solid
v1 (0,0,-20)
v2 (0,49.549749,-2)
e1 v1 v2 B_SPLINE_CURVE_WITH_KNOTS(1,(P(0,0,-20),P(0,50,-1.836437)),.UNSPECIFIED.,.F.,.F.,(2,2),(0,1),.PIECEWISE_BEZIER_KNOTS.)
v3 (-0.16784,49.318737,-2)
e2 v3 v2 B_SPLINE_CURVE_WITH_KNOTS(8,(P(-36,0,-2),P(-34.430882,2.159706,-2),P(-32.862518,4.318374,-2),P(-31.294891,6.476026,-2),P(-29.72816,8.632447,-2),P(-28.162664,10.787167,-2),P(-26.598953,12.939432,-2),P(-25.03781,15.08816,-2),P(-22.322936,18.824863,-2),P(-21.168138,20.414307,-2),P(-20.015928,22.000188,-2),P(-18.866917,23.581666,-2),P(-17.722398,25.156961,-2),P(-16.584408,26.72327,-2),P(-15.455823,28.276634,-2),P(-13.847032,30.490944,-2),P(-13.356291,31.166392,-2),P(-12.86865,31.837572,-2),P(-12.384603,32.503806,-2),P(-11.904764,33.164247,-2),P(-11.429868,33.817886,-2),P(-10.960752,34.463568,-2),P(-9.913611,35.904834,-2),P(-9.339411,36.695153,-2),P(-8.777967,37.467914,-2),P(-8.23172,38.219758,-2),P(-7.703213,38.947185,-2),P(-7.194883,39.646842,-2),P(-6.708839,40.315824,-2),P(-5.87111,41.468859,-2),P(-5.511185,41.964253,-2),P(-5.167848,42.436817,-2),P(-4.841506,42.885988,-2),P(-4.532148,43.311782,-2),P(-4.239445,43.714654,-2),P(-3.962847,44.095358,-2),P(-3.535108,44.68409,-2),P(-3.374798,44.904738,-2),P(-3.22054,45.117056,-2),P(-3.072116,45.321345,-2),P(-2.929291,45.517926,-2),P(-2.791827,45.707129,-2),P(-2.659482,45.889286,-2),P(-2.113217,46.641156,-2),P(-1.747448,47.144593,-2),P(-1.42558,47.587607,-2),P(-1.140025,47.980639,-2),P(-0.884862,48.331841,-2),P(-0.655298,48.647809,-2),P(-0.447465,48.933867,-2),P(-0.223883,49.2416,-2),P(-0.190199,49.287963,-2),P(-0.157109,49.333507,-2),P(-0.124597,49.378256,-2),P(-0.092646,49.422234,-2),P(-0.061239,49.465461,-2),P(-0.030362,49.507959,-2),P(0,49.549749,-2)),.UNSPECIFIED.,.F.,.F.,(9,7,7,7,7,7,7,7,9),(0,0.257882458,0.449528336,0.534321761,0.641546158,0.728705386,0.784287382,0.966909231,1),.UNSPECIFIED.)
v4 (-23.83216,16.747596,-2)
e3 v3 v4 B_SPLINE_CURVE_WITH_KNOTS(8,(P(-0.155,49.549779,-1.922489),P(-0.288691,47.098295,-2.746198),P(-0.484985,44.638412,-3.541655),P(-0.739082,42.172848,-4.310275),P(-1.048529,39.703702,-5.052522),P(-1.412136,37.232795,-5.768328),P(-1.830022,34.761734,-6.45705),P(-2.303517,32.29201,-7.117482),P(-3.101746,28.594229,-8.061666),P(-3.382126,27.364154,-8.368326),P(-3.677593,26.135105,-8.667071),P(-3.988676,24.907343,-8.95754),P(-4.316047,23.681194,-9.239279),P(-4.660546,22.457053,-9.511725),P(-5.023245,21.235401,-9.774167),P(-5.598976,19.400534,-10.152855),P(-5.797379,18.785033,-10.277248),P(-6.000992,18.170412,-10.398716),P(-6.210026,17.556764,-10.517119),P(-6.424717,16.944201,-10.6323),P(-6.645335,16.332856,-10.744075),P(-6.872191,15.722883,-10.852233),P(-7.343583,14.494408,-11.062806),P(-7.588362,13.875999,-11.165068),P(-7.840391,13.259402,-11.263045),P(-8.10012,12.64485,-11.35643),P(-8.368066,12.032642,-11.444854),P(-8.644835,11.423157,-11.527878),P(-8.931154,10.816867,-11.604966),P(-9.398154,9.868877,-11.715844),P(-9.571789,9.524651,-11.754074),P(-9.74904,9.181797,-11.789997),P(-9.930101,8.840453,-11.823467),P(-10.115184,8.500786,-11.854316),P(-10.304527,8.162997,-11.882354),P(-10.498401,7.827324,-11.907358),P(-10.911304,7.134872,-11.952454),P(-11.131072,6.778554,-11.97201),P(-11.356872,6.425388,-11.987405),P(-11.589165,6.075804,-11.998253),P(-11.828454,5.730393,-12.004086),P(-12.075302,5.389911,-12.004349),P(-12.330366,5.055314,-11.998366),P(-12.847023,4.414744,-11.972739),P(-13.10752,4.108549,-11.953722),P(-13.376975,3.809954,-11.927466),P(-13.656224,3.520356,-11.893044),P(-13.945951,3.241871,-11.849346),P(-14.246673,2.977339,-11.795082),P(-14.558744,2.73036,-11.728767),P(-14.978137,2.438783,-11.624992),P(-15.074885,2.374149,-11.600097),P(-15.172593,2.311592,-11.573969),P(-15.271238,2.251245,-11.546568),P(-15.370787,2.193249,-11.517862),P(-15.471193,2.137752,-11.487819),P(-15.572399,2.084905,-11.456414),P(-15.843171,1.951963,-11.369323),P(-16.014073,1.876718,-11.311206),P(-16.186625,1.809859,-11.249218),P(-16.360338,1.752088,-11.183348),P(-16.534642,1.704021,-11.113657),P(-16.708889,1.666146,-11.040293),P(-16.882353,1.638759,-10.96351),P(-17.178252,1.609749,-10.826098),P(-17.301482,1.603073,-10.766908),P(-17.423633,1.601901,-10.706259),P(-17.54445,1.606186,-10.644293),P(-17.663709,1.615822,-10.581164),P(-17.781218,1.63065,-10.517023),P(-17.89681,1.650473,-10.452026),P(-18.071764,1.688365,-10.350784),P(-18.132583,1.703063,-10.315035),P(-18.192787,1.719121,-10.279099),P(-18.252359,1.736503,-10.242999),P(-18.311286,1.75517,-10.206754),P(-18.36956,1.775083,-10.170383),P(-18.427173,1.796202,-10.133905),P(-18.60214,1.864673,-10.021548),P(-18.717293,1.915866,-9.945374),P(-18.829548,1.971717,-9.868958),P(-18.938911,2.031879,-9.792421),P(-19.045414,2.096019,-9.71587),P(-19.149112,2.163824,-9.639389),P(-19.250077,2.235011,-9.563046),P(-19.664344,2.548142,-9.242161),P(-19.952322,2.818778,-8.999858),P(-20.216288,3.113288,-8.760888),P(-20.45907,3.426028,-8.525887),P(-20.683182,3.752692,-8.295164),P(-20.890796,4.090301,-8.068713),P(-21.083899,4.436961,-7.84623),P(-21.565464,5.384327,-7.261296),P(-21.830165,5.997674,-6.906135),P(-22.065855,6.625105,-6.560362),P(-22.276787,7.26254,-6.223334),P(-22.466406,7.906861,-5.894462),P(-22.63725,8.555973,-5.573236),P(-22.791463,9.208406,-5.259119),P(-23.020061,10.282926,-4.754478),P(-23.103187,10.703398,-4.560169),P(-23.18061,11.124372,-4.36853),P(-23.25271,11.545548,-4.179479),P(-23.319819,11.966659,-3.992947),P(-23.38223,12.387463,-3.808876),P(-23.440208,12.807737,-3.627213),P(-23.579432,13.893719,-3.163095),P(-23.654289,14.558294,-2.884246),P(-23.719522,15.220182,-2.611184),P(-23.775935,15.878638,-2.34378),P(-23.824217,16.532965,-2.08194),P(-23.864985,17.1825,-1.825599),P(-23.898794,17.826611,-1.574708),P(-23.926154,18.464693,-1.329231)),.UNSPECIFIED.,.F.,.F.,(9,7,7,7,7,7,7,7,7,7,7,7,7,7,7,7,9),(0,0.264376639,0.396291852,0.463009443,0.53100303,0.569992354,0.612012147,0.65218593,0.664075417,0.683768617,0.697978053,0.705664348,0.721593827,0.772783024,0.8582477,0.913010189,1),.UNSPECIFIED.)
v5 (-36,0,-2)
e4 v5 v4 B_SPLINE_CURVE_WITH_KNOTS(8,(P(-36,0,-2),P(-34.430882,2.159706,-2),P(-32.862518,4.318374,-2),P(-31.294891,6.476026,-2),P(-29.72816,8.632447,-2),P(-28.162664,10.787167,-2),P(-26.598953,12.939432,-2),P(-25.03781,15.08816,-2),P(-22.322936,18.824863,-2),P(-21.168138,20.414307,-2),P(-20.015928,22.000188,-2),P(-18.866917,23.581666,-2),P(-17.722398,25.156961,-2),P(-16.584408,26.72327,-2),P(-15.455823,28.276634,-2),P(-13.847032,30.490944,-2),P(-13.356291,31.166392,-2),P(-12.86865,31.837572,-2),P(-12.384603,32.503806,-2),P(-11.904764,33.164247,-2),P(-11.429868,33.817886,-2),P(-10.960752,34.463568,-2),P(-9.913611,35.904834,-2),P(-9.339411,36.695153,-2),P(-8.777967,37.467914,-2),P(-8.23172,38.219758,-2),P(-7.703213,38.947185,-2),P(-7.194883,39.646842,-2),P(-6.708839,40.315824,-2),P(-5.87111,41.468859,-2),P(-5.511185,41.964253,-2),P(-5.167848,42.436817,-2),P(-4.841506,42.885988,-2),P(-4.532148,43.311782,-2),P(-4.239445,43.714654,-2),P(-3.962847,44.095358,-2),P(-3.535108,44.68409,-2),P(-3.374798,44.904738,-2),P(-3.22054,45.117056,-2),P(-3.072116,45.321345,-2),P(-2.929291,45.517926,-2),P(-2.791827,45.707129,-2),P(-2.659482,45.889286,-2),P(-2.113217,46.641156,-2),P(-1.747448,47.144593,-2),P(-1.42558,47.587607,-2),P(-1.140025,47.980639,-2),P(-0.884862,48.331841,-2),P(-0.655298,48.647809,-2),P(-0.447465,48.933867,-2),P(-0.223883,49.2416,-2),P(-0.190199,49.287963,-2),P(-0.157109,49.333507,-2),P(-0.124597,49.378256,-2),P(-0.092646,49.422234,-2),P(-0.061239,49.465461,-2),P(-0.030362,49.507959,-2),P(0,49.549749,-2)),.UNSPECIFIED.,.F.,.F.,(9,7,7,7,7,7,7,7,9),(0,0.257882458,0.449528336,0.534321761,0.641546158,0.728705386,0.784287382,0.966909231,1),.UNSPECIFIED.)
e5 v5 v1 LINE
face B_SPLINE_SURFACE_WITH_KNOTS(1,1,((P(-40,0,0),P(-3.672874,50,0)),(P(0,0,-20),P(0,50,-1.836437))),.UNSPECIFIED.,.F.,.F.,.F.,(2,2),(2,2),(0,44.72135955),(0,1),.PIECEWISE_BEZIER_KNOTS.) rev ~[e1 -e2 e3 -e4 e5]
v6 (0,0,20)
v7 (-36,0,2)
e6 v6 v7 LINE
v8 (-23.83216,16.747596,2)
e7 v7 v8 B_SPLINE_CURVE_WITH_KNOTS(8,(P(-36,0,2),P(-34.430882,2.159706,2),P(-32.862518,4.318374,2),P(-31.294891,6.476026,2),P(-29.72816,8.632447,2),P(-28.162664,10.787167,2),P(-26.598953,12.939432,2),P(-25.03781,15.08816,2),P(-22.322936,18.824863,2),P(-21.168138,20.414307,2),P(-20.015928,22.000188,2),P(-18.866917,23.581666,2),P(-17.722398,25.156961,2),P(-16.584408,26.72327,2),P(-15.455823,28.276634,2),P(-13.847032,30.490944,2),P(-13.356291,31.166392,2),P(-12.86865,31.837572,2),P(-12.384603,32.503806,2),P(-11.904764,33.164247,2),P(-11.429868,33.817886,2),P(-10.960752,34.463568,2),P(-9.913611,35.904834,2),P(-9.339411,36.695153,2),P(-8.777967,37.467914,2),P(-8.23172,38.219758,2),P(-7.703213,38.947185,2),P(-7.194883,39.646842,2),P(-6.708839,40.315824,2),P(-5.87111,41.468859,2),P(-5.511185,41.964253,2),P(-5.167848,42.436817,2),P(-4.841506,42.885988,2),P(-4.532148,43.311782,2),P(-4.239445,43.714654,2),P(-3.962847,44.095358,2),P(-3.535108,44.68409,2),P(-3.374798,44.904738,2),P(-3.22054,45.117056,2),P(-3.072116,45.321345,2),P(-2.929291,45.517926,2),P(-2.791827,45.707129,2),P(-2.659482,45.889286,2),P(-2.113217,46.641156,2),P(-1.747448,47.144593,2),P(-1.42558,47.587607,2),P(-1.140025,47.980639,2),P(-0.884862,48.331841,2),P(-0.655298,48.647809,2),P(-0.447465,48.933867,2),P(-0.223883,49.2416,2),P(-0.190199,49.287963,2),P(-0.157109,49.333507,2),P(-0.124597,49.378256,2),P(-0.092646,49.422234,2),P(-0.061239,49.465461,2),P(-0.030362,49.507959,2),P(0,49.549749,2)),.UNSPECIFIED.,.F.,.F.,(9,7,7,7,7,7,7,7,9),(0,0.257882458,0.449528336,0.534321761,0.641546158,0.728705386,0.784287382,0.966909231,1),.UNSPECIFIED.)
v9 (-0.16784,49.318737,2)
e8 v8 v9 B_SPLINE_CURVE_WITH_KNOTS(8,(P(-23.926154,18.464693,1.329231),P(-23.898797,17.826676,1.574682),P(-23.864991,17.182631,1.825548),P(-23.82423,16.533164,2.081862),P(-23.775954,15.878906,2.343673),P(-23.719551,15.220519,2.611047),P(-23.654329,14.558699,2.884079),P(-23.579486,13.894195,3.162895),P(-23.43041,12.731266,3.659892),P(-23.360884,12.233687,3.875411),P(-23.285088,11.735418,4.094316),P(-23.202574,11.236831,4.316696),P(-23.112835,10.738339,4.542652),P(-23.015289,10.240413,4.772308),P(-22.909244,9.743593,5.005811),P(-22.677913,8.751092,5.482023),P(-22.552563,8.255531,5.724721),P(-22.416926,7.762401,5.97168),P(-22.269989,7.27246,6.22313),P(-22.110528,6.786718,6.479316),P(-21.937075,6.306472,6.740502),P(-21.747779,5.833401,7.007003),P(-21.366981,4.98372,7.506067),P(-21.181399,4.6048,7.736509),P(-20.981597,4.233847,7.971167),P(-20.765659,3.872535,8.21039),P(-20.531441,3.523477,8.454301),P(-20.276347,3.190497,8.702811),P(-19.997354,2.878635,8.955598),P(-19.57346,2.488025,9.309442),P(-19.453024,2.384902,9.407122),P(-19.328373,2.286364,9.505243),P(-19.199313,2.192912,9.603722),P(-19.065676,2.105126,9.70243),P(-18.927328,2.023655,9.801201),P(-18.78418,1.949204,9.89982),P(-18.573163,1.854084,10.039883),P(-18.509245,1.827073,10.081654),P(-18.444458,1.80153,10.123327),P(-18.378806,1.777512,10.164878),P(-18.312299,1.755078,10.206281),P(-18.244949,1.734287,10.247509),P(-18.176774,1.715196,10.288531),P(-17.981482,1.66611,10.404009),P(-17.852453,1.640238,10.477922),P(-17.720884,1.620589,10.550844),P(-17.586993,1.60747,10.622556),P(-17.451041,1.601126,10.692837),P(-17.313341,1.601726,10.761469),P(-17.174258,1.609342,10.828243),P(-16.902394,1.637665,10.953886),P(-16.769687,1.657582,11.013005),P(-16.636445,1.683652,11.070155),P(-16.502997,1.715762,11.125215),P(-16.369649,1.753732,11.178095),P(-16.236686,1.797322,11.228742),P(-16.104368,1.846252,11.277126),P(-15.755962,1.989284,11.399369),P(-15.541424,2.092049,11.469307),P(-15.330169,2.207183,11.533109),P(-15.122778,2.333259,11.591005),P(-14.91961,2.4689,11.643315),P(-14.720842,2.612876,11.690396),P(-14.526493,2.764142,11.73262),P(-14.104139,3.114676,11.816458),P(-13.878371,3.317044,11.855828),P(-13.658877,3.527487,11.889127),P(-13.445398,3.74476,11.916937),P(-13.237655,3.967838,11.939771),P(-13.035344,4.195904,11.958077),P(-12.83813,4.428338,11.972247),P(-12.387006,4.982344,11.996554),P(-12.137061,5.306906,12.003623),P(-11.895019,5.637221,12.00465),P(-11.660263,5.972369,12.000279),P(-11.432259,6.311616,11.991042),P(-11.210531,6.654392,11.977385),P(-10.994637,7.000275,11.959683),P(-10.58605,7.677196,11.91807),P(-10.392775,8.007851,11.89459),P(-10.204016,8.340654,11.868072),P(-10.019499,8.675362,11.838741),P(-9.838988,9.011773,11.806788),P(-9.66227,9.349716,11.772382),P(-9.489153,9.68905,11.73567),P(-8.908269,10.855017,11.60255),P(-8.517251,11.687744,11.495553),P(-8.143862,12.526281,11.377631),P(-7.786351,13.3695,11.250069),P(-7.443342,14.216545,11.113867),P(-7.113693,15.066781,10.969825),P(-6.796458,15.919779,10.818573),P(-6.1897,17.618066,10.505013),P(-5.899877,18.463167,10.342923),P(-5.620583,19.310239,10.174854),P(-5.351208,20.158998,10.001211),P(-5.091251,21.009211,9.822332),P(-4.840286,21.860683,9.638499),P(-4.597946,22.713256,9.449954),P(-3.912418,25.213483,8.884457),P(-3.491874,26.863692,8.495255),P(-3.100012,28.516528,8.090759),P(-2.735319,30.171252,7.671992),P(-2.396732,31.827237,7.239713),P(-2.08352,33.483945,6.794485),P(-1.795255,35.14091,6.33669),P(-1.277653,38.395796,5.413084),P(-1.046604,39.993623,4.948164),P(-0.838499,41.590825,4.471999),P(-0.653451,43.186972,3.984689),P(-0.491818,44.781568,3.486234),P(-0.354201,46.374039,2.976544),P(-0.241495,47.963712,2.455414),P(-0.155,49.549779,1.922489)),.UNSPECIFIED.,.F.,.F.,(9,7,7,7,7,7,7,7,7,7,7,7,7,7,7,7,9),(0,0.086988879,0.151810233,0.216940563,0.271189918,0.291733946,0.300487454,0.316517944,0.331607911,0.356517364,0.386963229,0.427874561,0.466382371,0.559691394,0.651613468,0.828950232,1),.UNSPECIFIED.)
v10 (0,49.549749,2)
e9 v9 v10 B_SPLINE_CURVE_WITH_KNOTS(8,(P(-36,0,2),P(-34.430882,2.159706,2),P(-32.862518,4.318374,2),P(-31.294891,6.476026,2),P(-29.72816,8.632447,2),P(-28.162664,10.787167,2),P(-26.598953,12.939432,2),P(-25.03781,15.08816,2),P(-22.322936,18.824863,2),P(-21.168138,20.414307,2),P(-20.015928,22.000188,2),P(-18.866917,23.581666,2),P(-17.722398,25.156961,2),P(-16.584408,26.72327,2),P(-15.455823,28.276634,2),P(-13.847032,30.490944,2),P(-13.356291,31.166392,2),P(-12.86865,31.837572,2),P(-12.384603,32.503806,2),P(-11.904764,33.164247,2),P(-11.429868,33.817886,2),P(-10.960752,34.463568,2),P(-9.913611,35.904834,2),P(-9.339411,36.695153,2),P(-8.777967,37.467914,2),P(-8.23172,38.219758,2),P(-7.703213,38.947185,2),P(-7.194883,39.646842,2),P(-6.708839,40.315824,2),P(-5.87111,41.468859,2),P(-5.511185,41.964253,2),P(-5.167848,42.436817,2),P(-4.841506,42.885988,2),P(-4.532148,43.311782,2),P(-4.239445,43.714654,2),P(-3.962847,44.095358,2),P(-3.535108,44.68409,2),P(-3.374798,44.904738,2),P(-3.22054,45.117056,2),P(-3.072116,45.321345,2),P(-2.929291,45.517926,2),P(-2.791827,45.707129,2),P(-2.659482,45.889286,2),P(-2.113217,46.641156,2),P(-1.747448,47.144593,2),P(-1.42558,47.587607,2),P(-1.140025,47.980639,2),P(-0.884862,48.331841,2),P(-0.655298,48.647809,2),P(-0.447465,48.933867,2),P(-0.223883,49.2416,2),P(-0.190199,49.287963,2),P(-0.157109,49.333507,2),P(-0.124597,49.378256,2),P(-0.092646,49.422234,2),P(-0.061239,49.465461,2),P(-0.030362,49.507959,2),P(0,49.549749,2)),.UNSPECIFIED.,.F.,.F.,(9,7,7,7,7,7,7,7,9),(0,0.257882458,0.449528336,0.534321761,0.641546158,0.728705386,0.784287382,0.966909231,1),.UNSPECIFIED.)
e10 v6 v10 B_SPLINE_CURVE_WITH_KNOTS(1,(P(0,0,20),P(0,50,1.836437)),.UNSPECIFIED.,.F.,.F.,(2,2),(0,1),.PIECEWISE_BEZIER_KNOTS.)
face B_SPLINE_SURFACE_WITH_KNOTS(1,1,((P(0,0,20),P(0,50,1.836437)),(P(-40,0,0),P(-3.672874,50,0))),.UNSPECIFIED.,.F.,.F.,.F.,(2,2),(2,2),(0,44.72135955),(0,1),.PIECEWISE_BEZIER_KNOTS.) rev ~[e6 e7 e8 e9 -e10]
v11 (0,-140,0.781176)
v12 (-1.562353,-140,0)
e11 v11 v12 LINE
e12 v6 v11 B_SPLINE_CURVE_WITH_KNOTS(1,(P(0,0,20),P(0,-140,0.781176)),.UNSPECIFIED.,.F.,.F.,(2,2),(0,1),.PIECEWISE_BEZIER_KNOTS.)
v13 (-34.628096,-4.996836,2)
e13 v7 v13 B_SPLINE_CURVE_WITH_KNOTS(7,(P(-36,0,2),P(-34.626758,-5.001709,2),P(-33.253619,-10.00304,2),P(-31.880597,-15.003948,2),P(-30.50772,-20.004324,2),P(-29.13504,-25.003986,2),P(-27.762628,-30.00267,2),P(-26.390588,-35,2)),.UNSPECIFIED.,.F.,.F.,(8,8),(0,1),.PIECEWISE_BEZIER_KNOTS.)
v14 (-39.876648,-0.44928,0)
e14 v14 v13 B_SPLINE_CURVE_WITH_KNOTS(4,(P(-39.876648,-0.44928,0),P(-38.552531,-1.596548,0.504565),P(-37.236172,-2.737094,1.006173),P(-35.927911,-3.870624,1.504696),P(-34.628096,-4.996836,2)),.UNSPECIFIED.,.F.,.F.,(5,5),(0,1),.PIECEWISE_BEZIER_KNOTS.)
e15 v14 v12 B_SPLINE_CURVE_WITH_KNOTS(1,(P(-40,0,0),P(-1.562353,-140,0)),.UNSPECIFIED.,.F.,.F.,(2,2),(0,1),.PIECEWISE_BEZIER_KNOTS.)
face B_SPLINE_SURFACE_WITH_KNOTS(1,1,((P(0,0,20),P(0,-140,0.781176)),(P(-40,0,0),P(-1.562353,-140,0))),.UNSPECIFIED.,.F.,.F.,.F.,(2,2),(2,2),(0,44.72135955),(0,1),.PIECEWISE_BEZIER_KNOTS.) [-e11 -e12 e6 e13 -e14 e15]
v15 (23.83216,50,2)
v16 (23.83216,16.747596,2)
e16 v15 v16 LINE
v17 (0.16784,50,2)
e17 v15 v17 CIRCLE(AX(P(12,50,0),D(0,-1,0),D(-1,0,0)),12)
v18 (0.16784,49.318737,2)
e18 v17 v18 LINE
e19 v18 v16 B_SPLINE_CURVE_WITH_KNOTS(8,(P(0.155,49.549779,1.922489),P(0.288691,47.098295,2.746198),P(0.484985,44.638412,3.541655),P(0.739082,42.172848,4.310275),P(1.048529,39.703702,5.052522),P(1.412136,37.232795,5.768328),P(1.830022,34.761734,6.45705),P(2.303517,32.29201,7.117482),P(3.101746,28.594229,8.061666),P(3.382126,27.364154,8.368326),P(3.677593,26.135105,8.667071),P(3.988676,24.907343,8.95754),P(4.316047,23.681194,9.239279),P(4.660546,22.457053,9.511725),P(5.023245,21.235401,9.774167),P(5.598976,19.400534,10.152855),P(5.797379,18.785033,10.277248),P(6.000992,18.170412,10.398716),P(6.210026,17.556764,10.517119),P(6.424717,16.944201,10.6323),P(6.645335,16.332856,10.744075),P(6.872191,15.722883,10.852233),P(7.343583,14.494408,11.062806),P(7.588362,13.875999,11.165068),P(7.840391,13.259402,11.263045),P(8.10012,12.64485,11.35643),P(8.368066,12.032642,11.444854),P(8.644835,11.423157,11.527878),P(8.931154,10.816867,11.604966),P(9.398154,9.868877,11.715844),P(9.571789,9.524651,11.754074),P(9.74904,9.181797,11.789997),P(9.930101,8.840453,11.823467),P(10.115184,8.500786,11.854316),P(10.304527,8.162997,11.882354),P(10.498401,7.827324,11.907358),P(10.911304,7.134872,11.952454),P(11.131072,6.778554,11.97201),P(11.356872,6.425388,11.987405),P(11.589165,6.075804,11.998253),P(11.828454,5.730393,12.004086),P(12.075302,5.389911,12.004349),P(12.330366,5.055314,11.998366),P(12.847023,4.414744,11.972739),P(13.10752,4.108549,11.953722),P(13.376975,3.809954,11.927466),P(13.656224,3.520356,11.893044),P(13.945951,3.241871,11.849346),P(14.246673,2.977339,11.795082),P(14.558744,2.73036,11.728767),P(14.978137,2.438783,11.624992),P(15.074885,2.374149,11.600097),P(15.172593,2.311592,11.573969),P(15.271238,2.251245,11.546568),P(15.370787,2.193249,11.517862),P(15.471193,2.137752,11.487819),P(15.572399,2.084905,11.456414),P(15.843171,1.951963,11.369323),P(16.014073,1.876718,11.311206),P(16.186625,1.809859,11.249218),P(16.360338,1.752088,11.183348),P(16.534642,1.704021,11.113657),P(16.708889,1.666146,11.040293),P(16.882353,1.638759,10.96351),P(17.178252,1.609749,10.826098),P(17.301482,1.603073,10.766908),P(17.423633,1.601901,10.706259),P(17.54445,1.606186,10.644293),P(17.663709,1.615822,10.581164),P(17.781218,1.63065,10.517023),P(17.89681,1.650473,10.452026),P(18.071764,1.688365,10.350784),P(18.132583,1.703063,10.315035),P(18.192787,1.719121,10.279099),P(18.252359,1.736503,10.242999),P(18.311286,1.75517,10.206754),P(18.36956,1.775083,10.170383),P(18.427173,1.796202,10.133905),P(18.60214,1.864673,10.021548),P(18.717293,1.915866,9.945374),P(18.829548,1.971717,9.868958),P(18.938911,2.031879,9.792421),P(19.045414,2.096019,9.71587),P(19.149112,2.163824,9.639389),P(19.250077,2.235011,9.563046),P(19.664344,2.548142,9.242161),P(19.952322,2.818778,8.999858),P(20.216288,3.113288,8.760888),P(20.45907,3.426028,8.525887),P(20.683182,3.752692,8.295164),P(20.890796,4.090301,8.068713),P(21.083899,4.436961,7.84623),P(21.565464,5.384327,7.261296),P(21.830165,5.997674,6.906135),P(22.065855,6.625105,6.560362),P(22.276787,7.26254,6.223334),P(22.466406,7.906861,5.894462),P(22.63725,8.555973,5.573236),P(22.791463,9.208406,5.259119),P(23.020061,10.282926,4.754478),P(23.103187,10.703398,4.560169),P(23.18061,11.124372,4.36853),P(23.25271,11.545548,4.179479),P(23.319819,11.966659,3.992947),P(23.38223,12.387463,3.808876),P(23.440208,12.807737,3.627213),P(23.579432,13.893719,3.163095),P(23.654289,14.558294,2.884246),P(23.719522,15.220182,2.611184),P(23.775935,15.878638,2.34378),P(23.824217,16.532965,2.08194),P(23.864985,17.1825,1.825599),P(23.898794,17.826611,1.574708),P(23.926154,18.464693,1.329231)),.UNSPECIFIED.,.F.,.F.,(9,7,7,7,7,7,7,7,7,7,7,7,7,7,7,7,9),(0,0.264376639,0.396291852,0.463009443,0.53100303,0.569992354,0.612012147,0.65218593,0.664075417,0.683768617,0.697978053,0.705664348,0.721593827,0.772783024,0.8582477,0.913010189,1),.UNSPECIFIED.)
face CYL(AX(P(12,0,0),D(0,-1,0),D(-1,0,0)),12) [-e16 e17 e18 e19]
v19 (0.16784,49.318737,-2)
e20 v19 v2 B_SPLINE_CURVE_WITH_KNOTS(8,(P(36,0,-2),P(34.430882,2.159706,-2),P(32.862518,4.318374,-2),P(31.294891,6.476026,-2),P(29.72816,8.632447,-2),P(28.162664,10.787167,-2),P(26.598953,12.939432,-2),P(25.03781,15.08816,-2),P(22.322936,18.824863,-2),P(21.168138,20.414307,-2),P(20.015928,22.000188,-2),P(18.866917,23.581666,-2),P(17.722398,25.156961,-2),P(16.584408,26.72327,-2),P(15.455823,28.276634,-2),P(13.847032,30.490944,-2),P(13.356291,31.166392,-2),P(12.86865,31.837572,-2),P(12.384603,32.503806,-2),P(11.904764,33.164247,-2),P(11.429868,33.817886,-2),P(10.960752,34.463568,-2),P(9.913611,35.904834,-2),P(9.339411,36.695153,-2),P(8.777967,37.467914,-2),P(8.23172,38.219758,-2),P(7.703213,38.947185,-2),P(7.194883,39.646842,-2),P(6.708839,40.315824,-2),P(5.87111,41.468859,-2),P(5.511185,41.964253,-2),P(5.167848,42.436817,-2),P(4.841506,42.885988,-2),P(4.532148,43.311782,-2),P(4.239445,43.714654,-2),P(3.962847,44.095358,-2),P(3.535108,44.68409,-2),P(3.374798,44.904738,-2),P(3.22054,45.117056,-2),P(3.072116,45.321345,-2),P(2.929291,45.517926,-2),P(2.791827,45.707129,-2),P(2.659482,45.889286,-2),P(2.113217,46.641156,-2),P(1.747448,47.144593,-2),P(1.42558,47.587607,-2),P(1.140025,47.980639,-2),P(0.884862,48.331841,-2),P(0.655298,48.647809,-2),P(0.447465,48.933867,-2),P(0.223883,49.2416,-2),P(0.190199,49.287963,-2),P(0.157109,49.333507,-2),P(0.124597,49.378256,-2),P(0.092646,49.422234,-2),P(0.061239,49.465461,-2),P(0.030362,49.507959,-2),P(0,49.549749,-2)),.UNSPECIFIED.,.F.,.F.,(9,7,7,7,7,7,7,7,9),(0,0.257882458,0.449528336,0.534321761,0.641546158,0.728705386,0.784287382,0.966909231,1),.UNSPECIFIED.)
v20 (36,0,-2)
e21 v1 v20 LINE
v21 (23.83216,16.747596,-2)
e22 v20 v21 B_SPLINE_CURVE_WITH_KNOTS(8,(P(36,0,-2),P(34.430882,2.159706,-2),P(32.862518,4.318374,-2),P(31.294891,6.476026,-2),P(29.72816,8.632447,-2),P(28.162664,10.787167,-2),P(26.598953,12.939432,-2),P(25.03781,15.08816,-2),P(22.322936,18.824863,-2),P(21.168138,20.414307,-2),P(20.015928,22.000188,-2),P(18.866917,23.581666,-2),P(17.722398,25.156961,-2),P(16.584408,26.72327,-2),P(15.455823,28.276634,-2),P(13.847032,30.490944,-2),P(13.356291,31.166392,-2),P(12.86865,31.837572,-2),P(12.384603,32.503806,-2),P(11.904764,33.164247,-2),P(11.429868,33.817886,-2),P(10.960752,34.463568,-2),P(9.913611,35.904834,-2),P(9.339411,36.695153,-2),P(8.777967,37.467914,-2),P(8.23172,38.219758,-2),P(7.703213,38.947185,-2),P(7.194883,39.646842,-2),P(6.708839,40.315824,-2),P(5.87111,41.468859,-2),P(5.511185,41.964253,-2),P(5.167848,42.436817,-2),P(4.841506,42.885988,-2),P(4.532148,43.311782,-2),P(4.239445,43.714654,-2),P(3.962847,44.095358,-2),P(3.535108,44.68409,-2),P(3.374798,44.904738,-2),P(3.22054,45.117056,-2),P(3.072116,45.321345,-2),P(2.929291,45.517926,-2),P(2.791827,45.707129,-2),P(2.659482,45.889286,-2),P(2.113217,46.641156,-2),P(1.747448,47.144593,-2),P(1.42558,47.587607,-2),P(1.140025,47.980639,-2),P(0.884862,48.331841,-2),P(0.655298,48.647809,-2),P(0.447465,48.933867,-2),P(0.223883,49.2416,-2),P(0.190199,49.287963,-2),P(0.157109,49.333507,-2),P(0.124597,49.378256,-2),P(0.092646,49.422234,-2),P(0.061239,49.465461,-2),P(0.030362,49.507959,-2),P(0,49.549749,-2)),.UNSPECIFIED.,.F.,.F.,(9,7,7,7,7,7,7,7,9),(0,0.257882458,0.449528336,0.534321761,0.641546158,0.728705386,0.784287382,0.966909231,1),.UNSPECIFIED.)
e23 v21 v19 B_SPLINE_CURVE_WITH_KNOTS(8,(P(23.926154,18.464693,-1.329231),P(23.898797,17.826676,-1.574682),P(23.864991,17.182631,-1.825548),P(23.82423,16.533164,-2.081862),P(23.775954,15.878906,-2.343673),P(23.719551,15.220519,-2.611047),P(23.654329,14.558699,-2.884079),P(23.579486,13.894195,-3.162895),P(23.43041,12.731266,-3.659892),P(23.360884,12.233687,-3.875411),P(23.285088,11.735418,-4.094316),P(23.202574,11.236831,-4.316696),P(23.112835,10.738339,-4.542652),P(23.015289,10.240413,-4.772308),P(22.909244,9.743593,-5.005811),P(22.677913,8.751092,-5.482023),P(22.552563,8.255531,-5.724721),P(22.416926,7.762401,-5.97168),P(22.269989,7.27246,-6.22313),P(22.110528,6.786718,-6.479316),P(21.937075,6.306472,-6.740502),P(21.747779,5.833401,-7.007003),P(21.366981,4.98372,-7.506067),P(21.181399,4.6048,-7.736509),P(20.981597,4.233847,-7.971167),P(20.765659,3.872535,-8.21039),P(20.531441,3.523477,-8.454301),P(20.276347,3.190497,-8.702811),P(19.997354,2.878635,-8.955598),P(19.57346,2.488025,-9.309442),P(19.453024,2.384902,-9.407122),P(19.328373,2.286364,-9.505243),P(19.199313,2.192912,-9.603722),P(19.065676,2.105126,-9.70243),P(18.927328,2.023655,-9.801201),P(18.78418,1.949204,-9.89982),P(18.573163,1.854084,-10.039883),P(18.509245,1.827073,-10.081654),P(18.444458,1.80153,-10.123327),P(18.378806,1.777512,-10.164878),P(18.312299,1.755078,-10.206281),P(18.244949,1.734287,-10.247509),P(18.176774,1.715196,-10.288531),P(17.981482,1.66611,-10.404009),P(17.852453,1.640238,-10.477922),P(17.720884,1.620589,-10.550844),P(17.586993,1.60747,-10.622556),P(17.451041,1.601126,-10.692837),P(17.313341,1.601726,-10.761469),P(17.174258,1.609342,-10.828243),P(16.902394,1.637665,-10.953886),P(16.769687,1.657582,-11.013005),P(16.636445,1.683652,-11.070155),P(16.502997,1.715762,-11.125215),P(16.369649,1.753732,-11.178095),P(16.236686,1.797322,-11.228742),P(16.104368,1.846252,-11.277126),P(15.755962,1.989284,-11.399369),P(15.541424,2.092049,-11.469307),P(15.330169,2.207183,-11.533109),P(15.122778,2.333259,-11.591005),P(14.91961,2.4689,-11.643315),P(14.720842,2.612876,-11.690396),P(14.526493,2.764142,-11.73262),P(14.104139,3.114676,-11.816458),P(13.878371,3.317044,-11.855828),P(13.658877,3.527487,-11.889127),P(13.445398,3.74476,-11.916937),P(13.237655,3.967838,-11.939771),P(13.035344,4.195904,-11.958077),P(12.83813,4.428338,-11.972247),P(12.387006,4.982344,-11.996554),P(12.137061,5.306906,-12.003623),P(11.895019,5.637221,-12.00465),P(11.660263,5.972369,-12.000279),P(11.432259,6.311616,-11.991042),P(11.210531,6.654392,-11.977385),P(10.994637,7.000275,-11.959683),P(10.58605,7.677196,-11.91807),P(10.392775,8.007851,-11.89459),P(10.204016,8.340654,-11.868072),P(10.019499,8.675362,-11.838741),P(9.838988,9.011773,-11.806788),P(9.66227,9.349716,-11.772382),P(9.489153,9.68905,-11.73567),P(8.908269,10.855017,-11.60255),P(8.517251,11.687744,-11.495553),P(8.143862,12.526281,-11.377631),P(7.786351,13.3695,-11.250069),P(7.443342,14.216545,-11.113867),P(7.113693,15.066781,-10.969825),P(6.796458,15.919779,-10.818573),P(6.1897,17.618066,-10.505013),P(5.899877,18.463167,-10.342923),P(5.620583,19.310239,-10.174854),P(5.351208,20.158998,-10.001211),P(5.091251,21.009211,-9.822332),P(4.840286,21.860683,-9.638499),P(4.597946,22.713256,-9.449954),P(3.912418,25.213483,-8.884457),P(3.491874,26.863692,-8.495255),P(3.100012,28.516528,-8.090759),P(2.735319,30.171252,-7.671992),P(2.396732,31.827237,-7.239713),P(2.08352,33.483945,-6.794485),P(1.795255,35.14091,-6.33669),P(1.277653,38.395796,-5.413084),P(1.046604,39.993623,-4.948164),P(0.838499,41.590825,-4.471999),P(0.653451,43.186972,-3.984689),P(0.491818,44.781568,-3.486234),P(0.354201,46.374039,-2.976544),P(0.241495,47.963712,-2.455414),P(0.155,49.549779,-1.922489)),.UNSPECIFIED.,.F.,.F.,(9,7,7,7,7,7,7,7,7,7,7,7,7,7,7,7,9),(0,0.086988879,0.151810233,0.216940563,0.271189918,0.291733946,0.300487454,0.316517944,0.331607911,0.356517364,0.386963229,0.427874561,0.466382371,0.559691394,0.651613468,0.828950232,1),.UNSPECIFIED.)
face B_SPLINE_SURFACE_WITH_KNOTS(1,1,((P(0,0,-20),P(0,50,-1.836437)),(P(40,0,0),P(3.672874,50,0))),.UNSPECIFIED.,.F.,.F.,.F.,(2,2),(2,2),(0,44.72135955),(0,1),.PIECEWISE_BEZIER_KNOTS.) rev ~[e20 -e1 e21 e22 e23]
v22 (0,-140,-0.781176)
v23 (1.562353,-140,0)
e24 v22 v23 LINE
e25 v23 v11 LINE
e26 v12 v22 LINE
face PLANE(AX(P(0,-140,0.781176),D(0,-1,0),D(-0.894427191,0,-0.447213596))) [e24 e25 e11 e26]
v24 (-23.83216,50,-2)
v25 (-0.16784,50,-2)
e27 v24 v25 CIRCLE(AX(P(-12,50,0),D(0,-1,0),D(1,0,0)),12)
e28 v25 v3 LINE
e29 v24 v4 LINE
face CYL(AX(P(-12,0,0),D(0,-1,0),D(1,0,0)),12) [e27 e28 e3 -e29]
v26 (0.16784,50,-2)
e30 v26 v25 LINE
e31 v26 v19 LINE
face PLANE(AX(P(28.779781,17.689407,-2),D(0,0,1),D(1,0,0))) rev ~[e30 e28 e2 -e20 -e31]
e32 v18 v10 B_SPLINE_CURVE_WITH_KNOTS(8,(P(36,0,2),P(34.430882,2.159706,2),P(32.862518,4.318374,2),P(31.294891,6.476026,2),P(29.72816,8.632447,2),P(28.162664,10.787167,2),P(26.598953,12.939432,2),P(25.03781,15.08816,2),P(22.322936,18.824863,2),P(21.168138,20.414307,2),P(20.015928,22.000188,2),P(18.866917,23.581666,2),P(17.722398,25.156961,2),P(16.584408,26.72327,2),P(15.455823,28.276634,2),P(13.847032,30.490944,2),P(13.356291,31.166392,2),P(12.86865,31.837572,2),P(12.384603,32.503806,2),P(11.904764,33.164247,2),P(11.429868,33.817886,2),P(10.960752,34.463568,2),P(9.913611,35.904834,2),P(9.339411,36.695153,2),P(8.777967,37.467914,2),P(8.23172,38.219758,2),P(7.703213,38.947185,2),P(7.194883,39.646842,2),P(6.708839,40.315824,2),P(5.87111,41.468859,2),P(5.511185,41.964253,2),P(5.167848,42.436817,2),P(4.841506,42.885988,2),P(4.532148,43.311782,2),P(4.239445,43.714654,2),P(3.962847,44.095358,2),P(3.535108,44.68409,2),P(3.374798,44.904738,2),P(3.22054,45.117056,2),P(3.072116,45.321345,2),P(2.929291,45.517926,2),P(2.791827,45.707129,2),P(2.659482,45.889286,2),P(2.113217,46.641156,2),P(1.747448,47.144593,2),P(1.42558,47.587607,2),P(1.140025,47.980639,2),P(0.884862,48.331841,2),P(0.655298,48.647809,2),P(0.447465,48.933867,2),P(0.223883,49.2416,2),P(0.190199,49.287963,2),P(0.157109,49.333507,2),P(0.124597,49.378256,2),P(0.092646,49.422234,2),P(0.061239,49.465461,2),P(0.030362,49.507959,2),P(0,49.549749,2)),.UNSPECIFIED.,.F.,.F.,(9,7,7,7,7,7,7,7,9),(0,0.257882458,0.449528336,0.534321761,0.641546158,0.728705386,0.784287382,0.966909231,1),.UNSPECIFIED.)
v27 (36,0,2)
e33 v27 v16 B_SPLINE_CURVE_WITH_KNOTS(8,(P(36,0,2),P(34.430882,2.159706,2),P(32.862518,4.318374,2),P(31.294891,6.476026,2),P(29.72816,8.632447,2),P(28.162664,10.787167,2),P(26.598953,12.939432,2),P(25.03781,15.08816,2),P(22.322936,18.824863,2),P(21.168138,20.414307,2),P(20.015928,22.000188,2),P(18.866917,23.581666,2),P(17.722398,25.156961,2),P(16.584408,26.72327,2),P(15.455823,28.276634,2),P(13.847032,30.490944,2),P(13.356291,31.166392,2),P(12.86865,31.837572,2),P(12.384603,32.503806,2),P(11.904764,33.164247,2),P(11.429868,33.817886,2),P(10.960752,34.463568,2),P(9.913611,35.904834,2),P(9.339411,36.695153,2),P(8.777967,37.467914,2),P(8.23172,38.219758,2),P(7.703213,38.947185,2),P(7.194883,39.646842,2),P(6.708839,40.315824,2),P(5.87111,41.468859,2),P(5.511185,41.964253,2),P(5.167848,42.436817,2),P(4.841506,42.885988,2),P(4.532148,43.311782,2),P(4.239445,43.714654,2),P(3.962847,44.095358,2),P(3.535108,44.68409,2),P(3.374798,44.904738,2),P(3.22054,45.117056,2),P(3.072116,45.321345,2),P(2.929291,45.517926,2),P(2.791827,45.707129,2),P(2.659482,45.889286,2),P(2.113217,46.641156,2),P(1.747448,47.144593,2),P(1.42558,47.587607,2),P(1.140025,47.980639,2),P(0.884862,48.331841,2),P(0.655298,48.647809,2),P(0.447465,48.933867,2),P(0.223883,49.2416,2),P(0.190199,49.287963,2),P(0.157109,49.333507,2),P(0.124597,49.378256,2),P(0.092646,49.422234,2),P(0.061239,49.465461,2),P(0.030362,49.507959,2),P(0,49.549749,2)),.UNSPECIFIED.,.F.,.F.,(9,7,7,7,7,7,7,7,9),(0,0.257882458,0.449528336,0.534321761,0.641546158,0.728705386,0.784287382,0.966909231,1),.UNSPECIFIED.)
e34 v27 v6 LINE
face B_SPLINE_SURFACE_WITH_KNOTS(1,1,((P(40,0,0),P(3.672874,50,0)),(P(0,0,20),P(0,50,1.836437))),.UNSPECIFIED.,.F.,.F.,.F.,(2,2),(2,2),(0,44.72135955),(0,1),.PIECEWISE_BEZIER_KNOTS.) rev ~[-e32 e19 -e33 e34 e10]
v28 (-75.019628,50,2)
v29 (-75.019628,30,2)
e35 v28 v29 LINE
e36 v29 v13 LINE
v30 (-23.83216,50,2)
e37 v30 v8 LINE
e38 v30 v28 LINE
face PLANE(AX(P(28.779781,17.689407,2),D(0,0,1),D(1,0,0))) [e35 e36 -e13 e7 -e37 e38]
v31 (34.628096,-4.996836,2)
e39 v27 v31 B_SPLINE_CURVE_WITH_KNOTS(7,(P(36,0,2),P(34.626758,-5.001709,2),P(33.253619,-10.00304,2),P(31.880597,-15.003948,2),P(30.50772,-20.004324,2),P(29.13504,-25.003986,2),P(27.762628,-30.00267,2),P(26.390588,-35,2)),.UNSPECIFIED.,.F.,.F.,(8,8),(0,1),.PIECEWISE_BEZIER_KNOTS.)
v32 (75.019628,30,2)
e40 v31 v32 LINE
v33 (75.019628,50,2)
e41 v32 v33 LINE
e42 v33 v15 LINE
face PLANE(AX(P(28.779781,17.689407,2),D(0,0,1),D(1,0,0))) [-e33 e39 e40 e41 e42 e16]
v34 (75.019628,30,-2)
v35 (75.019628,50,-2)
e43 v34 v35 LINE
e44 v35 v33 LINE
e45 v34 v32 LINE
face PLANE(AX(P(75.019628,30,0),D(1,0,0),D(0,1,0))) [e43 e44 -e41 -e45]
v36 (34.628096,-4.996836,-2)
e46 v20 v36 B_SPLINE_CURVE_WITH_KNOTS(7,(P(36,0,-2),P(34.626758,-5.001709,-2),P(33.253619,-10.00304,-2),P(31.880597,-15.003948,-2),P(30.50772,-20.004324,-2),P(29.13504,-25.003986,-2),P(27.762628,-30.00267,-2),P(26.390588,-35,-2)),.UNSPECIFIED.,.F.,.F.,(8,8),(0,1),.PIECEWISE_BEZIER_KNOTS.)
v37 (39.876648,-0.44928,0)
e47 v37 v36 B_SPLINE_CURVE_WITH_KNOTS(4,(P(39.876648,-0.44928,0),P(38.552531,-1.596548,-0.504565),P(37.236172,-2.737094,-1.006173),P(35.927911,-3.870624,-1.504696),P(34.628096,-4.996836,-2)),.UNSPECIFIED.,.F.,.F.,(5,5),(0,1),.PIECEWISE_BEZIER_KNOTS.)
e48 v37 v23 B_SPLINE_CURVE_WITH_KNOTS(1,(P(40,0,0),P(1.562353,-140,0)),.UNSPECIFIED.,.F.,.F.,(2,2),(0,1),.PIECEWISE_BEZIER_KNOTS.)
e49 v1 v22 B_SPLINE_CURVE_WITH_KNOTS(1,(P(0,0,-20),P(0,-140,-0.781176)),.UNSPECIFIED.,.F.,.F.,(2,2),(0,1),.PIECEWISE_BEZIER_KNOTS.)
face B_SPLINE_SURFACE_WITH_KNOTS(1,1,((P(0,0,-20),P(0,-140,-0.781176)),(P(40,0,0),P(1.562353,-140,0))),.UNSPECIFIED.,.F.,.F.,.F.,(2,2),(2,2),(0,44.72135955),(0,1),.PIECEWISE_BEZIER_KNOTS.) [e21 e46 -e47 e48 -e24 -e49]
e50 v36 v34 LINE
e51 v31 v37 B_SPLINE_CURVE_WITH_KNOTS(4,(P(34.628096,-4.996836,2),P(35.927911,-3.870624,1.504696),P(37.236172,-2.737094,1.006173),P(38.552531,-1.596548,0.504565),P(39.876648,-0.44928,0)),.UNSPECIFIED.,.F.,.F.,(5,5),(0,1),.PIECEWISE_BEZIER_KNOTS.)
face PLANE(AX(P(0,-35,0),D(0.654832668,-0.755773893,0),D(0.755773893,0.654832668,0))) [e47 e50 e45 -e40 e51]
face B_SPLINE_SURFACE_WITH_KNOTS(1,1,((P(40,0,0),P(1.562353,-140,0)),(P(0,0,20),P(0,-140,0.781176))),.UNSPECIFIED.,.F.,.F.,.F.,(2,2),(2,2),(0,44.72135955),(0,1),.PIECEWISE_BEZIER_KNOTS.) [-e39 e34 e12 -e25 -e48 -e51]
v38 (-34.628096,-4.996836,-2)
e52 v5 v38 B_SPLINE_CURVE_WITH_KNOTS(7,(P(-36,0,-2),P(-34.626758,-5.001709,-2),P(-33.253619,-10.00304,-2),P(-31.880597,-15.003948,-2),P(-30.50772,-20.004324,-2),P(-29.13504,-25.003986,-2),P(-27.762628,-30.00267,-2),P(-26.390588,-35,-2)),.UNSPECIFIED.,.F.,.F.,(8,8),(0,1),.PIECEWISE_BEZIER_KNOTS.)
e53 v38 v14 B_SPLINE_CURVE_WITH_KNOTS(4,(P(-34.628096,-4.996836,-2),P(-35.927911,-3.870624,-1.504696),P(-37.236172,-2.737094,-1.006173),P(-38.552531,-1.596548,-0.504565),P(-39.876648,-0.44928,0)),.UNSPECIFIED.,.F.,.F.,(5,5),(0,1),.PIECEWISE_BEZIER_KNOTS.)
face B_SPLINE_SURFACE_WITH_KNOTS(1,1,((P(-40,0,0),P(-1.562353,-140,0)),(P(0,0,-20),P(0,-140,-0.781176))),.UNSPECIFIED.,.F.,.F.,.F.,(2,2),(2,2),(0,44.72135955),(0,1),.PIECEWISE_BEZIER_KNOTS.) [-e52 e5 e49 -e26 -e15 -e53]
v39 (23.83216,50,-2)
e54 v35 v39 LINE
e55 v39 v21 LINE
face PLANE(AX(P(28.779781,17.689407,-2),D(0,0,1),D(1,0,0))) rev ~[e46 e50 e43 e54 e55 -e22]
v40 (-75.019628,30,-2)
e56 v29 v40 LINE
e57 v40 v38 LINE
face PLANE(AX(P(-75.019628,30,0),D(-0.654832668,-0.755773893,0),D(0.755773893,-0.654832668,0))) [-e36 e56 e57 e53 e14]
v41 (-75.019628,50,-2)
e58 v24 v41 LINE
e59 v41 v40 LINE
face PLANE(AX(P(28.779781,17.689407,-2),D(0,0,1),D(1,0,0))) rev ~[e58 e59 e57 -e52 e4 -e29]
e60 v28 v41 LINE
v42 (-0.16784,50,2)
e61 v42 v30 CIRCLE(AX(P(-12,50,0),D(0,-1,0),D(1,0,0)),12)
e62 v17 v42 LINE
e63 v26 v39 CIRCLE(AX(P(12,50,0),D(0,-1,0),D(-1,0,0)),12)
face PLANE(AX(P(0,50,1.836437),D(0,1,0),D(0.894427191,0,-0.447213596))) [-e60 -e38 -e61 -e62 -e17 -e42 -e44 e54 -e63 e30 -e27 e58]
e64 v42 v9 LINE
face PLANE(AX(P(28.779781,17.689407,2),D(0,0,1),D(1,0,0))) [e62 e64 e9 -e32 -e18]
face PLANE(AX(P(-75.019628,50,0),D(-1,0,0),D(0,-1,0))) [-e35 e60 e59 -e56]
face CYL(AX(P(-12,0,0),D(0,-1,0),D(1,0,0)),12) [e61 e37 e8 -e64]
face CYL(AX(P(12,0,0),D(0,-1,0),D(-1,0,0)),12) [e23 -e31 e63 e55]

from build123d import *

# Parameters (mm, degrees)
F1_DEPTH      = 140
F1_TAPER      = 7
F1_DEPTH_BACK = 50
F1_TAPER_BACK = 18
F3_DEPTH      = 2
F4_R          = 12
F5_DEPTH      = 50


with BuildPart() as f1:
    # F0 (on Front) → F1 (new body, two sides)
    with BuildSketch(Plane.XZ) as f1_sk:
        Polygon((0, 20), (-40, 0), (0, -20), (40, 0), align=None)
    extrude(amount=F1_DEPTH, taper=F1_TAPER)
    extrude(f1_sk.sketch, amount=-F1_DEPTH_BACK, taper=F1_TAPER_BACK)

    # F2 (on Top) → F3 (join, symmetric)
    with BuildSketch(Plane.XY):
        Polygon((0, 50), (0, -35), (75.0196278095, 30), (75.0196278095, 50), align=None)
        Polygon((-75.0196278095, 30), (0, -35), (0, 50), (-75.0196278095, 50), align=None)
    extrude(amount=F3_DEPTH, both=True)

    # F4 (on Front) → F5 (join)
    with BuildSketch(Plane.XZ):
        with BuildLine():
            ThreePointArc((0, 0), (12, -12), (24, 0))
            ThreePointArc((24, 0), (12, 12), (0, 0))
        make_face()
        with Locations((-12, 0)):
            Circle(F4_R)
    extrude(amount=-F5_DEPTH)


solid = f1.part
